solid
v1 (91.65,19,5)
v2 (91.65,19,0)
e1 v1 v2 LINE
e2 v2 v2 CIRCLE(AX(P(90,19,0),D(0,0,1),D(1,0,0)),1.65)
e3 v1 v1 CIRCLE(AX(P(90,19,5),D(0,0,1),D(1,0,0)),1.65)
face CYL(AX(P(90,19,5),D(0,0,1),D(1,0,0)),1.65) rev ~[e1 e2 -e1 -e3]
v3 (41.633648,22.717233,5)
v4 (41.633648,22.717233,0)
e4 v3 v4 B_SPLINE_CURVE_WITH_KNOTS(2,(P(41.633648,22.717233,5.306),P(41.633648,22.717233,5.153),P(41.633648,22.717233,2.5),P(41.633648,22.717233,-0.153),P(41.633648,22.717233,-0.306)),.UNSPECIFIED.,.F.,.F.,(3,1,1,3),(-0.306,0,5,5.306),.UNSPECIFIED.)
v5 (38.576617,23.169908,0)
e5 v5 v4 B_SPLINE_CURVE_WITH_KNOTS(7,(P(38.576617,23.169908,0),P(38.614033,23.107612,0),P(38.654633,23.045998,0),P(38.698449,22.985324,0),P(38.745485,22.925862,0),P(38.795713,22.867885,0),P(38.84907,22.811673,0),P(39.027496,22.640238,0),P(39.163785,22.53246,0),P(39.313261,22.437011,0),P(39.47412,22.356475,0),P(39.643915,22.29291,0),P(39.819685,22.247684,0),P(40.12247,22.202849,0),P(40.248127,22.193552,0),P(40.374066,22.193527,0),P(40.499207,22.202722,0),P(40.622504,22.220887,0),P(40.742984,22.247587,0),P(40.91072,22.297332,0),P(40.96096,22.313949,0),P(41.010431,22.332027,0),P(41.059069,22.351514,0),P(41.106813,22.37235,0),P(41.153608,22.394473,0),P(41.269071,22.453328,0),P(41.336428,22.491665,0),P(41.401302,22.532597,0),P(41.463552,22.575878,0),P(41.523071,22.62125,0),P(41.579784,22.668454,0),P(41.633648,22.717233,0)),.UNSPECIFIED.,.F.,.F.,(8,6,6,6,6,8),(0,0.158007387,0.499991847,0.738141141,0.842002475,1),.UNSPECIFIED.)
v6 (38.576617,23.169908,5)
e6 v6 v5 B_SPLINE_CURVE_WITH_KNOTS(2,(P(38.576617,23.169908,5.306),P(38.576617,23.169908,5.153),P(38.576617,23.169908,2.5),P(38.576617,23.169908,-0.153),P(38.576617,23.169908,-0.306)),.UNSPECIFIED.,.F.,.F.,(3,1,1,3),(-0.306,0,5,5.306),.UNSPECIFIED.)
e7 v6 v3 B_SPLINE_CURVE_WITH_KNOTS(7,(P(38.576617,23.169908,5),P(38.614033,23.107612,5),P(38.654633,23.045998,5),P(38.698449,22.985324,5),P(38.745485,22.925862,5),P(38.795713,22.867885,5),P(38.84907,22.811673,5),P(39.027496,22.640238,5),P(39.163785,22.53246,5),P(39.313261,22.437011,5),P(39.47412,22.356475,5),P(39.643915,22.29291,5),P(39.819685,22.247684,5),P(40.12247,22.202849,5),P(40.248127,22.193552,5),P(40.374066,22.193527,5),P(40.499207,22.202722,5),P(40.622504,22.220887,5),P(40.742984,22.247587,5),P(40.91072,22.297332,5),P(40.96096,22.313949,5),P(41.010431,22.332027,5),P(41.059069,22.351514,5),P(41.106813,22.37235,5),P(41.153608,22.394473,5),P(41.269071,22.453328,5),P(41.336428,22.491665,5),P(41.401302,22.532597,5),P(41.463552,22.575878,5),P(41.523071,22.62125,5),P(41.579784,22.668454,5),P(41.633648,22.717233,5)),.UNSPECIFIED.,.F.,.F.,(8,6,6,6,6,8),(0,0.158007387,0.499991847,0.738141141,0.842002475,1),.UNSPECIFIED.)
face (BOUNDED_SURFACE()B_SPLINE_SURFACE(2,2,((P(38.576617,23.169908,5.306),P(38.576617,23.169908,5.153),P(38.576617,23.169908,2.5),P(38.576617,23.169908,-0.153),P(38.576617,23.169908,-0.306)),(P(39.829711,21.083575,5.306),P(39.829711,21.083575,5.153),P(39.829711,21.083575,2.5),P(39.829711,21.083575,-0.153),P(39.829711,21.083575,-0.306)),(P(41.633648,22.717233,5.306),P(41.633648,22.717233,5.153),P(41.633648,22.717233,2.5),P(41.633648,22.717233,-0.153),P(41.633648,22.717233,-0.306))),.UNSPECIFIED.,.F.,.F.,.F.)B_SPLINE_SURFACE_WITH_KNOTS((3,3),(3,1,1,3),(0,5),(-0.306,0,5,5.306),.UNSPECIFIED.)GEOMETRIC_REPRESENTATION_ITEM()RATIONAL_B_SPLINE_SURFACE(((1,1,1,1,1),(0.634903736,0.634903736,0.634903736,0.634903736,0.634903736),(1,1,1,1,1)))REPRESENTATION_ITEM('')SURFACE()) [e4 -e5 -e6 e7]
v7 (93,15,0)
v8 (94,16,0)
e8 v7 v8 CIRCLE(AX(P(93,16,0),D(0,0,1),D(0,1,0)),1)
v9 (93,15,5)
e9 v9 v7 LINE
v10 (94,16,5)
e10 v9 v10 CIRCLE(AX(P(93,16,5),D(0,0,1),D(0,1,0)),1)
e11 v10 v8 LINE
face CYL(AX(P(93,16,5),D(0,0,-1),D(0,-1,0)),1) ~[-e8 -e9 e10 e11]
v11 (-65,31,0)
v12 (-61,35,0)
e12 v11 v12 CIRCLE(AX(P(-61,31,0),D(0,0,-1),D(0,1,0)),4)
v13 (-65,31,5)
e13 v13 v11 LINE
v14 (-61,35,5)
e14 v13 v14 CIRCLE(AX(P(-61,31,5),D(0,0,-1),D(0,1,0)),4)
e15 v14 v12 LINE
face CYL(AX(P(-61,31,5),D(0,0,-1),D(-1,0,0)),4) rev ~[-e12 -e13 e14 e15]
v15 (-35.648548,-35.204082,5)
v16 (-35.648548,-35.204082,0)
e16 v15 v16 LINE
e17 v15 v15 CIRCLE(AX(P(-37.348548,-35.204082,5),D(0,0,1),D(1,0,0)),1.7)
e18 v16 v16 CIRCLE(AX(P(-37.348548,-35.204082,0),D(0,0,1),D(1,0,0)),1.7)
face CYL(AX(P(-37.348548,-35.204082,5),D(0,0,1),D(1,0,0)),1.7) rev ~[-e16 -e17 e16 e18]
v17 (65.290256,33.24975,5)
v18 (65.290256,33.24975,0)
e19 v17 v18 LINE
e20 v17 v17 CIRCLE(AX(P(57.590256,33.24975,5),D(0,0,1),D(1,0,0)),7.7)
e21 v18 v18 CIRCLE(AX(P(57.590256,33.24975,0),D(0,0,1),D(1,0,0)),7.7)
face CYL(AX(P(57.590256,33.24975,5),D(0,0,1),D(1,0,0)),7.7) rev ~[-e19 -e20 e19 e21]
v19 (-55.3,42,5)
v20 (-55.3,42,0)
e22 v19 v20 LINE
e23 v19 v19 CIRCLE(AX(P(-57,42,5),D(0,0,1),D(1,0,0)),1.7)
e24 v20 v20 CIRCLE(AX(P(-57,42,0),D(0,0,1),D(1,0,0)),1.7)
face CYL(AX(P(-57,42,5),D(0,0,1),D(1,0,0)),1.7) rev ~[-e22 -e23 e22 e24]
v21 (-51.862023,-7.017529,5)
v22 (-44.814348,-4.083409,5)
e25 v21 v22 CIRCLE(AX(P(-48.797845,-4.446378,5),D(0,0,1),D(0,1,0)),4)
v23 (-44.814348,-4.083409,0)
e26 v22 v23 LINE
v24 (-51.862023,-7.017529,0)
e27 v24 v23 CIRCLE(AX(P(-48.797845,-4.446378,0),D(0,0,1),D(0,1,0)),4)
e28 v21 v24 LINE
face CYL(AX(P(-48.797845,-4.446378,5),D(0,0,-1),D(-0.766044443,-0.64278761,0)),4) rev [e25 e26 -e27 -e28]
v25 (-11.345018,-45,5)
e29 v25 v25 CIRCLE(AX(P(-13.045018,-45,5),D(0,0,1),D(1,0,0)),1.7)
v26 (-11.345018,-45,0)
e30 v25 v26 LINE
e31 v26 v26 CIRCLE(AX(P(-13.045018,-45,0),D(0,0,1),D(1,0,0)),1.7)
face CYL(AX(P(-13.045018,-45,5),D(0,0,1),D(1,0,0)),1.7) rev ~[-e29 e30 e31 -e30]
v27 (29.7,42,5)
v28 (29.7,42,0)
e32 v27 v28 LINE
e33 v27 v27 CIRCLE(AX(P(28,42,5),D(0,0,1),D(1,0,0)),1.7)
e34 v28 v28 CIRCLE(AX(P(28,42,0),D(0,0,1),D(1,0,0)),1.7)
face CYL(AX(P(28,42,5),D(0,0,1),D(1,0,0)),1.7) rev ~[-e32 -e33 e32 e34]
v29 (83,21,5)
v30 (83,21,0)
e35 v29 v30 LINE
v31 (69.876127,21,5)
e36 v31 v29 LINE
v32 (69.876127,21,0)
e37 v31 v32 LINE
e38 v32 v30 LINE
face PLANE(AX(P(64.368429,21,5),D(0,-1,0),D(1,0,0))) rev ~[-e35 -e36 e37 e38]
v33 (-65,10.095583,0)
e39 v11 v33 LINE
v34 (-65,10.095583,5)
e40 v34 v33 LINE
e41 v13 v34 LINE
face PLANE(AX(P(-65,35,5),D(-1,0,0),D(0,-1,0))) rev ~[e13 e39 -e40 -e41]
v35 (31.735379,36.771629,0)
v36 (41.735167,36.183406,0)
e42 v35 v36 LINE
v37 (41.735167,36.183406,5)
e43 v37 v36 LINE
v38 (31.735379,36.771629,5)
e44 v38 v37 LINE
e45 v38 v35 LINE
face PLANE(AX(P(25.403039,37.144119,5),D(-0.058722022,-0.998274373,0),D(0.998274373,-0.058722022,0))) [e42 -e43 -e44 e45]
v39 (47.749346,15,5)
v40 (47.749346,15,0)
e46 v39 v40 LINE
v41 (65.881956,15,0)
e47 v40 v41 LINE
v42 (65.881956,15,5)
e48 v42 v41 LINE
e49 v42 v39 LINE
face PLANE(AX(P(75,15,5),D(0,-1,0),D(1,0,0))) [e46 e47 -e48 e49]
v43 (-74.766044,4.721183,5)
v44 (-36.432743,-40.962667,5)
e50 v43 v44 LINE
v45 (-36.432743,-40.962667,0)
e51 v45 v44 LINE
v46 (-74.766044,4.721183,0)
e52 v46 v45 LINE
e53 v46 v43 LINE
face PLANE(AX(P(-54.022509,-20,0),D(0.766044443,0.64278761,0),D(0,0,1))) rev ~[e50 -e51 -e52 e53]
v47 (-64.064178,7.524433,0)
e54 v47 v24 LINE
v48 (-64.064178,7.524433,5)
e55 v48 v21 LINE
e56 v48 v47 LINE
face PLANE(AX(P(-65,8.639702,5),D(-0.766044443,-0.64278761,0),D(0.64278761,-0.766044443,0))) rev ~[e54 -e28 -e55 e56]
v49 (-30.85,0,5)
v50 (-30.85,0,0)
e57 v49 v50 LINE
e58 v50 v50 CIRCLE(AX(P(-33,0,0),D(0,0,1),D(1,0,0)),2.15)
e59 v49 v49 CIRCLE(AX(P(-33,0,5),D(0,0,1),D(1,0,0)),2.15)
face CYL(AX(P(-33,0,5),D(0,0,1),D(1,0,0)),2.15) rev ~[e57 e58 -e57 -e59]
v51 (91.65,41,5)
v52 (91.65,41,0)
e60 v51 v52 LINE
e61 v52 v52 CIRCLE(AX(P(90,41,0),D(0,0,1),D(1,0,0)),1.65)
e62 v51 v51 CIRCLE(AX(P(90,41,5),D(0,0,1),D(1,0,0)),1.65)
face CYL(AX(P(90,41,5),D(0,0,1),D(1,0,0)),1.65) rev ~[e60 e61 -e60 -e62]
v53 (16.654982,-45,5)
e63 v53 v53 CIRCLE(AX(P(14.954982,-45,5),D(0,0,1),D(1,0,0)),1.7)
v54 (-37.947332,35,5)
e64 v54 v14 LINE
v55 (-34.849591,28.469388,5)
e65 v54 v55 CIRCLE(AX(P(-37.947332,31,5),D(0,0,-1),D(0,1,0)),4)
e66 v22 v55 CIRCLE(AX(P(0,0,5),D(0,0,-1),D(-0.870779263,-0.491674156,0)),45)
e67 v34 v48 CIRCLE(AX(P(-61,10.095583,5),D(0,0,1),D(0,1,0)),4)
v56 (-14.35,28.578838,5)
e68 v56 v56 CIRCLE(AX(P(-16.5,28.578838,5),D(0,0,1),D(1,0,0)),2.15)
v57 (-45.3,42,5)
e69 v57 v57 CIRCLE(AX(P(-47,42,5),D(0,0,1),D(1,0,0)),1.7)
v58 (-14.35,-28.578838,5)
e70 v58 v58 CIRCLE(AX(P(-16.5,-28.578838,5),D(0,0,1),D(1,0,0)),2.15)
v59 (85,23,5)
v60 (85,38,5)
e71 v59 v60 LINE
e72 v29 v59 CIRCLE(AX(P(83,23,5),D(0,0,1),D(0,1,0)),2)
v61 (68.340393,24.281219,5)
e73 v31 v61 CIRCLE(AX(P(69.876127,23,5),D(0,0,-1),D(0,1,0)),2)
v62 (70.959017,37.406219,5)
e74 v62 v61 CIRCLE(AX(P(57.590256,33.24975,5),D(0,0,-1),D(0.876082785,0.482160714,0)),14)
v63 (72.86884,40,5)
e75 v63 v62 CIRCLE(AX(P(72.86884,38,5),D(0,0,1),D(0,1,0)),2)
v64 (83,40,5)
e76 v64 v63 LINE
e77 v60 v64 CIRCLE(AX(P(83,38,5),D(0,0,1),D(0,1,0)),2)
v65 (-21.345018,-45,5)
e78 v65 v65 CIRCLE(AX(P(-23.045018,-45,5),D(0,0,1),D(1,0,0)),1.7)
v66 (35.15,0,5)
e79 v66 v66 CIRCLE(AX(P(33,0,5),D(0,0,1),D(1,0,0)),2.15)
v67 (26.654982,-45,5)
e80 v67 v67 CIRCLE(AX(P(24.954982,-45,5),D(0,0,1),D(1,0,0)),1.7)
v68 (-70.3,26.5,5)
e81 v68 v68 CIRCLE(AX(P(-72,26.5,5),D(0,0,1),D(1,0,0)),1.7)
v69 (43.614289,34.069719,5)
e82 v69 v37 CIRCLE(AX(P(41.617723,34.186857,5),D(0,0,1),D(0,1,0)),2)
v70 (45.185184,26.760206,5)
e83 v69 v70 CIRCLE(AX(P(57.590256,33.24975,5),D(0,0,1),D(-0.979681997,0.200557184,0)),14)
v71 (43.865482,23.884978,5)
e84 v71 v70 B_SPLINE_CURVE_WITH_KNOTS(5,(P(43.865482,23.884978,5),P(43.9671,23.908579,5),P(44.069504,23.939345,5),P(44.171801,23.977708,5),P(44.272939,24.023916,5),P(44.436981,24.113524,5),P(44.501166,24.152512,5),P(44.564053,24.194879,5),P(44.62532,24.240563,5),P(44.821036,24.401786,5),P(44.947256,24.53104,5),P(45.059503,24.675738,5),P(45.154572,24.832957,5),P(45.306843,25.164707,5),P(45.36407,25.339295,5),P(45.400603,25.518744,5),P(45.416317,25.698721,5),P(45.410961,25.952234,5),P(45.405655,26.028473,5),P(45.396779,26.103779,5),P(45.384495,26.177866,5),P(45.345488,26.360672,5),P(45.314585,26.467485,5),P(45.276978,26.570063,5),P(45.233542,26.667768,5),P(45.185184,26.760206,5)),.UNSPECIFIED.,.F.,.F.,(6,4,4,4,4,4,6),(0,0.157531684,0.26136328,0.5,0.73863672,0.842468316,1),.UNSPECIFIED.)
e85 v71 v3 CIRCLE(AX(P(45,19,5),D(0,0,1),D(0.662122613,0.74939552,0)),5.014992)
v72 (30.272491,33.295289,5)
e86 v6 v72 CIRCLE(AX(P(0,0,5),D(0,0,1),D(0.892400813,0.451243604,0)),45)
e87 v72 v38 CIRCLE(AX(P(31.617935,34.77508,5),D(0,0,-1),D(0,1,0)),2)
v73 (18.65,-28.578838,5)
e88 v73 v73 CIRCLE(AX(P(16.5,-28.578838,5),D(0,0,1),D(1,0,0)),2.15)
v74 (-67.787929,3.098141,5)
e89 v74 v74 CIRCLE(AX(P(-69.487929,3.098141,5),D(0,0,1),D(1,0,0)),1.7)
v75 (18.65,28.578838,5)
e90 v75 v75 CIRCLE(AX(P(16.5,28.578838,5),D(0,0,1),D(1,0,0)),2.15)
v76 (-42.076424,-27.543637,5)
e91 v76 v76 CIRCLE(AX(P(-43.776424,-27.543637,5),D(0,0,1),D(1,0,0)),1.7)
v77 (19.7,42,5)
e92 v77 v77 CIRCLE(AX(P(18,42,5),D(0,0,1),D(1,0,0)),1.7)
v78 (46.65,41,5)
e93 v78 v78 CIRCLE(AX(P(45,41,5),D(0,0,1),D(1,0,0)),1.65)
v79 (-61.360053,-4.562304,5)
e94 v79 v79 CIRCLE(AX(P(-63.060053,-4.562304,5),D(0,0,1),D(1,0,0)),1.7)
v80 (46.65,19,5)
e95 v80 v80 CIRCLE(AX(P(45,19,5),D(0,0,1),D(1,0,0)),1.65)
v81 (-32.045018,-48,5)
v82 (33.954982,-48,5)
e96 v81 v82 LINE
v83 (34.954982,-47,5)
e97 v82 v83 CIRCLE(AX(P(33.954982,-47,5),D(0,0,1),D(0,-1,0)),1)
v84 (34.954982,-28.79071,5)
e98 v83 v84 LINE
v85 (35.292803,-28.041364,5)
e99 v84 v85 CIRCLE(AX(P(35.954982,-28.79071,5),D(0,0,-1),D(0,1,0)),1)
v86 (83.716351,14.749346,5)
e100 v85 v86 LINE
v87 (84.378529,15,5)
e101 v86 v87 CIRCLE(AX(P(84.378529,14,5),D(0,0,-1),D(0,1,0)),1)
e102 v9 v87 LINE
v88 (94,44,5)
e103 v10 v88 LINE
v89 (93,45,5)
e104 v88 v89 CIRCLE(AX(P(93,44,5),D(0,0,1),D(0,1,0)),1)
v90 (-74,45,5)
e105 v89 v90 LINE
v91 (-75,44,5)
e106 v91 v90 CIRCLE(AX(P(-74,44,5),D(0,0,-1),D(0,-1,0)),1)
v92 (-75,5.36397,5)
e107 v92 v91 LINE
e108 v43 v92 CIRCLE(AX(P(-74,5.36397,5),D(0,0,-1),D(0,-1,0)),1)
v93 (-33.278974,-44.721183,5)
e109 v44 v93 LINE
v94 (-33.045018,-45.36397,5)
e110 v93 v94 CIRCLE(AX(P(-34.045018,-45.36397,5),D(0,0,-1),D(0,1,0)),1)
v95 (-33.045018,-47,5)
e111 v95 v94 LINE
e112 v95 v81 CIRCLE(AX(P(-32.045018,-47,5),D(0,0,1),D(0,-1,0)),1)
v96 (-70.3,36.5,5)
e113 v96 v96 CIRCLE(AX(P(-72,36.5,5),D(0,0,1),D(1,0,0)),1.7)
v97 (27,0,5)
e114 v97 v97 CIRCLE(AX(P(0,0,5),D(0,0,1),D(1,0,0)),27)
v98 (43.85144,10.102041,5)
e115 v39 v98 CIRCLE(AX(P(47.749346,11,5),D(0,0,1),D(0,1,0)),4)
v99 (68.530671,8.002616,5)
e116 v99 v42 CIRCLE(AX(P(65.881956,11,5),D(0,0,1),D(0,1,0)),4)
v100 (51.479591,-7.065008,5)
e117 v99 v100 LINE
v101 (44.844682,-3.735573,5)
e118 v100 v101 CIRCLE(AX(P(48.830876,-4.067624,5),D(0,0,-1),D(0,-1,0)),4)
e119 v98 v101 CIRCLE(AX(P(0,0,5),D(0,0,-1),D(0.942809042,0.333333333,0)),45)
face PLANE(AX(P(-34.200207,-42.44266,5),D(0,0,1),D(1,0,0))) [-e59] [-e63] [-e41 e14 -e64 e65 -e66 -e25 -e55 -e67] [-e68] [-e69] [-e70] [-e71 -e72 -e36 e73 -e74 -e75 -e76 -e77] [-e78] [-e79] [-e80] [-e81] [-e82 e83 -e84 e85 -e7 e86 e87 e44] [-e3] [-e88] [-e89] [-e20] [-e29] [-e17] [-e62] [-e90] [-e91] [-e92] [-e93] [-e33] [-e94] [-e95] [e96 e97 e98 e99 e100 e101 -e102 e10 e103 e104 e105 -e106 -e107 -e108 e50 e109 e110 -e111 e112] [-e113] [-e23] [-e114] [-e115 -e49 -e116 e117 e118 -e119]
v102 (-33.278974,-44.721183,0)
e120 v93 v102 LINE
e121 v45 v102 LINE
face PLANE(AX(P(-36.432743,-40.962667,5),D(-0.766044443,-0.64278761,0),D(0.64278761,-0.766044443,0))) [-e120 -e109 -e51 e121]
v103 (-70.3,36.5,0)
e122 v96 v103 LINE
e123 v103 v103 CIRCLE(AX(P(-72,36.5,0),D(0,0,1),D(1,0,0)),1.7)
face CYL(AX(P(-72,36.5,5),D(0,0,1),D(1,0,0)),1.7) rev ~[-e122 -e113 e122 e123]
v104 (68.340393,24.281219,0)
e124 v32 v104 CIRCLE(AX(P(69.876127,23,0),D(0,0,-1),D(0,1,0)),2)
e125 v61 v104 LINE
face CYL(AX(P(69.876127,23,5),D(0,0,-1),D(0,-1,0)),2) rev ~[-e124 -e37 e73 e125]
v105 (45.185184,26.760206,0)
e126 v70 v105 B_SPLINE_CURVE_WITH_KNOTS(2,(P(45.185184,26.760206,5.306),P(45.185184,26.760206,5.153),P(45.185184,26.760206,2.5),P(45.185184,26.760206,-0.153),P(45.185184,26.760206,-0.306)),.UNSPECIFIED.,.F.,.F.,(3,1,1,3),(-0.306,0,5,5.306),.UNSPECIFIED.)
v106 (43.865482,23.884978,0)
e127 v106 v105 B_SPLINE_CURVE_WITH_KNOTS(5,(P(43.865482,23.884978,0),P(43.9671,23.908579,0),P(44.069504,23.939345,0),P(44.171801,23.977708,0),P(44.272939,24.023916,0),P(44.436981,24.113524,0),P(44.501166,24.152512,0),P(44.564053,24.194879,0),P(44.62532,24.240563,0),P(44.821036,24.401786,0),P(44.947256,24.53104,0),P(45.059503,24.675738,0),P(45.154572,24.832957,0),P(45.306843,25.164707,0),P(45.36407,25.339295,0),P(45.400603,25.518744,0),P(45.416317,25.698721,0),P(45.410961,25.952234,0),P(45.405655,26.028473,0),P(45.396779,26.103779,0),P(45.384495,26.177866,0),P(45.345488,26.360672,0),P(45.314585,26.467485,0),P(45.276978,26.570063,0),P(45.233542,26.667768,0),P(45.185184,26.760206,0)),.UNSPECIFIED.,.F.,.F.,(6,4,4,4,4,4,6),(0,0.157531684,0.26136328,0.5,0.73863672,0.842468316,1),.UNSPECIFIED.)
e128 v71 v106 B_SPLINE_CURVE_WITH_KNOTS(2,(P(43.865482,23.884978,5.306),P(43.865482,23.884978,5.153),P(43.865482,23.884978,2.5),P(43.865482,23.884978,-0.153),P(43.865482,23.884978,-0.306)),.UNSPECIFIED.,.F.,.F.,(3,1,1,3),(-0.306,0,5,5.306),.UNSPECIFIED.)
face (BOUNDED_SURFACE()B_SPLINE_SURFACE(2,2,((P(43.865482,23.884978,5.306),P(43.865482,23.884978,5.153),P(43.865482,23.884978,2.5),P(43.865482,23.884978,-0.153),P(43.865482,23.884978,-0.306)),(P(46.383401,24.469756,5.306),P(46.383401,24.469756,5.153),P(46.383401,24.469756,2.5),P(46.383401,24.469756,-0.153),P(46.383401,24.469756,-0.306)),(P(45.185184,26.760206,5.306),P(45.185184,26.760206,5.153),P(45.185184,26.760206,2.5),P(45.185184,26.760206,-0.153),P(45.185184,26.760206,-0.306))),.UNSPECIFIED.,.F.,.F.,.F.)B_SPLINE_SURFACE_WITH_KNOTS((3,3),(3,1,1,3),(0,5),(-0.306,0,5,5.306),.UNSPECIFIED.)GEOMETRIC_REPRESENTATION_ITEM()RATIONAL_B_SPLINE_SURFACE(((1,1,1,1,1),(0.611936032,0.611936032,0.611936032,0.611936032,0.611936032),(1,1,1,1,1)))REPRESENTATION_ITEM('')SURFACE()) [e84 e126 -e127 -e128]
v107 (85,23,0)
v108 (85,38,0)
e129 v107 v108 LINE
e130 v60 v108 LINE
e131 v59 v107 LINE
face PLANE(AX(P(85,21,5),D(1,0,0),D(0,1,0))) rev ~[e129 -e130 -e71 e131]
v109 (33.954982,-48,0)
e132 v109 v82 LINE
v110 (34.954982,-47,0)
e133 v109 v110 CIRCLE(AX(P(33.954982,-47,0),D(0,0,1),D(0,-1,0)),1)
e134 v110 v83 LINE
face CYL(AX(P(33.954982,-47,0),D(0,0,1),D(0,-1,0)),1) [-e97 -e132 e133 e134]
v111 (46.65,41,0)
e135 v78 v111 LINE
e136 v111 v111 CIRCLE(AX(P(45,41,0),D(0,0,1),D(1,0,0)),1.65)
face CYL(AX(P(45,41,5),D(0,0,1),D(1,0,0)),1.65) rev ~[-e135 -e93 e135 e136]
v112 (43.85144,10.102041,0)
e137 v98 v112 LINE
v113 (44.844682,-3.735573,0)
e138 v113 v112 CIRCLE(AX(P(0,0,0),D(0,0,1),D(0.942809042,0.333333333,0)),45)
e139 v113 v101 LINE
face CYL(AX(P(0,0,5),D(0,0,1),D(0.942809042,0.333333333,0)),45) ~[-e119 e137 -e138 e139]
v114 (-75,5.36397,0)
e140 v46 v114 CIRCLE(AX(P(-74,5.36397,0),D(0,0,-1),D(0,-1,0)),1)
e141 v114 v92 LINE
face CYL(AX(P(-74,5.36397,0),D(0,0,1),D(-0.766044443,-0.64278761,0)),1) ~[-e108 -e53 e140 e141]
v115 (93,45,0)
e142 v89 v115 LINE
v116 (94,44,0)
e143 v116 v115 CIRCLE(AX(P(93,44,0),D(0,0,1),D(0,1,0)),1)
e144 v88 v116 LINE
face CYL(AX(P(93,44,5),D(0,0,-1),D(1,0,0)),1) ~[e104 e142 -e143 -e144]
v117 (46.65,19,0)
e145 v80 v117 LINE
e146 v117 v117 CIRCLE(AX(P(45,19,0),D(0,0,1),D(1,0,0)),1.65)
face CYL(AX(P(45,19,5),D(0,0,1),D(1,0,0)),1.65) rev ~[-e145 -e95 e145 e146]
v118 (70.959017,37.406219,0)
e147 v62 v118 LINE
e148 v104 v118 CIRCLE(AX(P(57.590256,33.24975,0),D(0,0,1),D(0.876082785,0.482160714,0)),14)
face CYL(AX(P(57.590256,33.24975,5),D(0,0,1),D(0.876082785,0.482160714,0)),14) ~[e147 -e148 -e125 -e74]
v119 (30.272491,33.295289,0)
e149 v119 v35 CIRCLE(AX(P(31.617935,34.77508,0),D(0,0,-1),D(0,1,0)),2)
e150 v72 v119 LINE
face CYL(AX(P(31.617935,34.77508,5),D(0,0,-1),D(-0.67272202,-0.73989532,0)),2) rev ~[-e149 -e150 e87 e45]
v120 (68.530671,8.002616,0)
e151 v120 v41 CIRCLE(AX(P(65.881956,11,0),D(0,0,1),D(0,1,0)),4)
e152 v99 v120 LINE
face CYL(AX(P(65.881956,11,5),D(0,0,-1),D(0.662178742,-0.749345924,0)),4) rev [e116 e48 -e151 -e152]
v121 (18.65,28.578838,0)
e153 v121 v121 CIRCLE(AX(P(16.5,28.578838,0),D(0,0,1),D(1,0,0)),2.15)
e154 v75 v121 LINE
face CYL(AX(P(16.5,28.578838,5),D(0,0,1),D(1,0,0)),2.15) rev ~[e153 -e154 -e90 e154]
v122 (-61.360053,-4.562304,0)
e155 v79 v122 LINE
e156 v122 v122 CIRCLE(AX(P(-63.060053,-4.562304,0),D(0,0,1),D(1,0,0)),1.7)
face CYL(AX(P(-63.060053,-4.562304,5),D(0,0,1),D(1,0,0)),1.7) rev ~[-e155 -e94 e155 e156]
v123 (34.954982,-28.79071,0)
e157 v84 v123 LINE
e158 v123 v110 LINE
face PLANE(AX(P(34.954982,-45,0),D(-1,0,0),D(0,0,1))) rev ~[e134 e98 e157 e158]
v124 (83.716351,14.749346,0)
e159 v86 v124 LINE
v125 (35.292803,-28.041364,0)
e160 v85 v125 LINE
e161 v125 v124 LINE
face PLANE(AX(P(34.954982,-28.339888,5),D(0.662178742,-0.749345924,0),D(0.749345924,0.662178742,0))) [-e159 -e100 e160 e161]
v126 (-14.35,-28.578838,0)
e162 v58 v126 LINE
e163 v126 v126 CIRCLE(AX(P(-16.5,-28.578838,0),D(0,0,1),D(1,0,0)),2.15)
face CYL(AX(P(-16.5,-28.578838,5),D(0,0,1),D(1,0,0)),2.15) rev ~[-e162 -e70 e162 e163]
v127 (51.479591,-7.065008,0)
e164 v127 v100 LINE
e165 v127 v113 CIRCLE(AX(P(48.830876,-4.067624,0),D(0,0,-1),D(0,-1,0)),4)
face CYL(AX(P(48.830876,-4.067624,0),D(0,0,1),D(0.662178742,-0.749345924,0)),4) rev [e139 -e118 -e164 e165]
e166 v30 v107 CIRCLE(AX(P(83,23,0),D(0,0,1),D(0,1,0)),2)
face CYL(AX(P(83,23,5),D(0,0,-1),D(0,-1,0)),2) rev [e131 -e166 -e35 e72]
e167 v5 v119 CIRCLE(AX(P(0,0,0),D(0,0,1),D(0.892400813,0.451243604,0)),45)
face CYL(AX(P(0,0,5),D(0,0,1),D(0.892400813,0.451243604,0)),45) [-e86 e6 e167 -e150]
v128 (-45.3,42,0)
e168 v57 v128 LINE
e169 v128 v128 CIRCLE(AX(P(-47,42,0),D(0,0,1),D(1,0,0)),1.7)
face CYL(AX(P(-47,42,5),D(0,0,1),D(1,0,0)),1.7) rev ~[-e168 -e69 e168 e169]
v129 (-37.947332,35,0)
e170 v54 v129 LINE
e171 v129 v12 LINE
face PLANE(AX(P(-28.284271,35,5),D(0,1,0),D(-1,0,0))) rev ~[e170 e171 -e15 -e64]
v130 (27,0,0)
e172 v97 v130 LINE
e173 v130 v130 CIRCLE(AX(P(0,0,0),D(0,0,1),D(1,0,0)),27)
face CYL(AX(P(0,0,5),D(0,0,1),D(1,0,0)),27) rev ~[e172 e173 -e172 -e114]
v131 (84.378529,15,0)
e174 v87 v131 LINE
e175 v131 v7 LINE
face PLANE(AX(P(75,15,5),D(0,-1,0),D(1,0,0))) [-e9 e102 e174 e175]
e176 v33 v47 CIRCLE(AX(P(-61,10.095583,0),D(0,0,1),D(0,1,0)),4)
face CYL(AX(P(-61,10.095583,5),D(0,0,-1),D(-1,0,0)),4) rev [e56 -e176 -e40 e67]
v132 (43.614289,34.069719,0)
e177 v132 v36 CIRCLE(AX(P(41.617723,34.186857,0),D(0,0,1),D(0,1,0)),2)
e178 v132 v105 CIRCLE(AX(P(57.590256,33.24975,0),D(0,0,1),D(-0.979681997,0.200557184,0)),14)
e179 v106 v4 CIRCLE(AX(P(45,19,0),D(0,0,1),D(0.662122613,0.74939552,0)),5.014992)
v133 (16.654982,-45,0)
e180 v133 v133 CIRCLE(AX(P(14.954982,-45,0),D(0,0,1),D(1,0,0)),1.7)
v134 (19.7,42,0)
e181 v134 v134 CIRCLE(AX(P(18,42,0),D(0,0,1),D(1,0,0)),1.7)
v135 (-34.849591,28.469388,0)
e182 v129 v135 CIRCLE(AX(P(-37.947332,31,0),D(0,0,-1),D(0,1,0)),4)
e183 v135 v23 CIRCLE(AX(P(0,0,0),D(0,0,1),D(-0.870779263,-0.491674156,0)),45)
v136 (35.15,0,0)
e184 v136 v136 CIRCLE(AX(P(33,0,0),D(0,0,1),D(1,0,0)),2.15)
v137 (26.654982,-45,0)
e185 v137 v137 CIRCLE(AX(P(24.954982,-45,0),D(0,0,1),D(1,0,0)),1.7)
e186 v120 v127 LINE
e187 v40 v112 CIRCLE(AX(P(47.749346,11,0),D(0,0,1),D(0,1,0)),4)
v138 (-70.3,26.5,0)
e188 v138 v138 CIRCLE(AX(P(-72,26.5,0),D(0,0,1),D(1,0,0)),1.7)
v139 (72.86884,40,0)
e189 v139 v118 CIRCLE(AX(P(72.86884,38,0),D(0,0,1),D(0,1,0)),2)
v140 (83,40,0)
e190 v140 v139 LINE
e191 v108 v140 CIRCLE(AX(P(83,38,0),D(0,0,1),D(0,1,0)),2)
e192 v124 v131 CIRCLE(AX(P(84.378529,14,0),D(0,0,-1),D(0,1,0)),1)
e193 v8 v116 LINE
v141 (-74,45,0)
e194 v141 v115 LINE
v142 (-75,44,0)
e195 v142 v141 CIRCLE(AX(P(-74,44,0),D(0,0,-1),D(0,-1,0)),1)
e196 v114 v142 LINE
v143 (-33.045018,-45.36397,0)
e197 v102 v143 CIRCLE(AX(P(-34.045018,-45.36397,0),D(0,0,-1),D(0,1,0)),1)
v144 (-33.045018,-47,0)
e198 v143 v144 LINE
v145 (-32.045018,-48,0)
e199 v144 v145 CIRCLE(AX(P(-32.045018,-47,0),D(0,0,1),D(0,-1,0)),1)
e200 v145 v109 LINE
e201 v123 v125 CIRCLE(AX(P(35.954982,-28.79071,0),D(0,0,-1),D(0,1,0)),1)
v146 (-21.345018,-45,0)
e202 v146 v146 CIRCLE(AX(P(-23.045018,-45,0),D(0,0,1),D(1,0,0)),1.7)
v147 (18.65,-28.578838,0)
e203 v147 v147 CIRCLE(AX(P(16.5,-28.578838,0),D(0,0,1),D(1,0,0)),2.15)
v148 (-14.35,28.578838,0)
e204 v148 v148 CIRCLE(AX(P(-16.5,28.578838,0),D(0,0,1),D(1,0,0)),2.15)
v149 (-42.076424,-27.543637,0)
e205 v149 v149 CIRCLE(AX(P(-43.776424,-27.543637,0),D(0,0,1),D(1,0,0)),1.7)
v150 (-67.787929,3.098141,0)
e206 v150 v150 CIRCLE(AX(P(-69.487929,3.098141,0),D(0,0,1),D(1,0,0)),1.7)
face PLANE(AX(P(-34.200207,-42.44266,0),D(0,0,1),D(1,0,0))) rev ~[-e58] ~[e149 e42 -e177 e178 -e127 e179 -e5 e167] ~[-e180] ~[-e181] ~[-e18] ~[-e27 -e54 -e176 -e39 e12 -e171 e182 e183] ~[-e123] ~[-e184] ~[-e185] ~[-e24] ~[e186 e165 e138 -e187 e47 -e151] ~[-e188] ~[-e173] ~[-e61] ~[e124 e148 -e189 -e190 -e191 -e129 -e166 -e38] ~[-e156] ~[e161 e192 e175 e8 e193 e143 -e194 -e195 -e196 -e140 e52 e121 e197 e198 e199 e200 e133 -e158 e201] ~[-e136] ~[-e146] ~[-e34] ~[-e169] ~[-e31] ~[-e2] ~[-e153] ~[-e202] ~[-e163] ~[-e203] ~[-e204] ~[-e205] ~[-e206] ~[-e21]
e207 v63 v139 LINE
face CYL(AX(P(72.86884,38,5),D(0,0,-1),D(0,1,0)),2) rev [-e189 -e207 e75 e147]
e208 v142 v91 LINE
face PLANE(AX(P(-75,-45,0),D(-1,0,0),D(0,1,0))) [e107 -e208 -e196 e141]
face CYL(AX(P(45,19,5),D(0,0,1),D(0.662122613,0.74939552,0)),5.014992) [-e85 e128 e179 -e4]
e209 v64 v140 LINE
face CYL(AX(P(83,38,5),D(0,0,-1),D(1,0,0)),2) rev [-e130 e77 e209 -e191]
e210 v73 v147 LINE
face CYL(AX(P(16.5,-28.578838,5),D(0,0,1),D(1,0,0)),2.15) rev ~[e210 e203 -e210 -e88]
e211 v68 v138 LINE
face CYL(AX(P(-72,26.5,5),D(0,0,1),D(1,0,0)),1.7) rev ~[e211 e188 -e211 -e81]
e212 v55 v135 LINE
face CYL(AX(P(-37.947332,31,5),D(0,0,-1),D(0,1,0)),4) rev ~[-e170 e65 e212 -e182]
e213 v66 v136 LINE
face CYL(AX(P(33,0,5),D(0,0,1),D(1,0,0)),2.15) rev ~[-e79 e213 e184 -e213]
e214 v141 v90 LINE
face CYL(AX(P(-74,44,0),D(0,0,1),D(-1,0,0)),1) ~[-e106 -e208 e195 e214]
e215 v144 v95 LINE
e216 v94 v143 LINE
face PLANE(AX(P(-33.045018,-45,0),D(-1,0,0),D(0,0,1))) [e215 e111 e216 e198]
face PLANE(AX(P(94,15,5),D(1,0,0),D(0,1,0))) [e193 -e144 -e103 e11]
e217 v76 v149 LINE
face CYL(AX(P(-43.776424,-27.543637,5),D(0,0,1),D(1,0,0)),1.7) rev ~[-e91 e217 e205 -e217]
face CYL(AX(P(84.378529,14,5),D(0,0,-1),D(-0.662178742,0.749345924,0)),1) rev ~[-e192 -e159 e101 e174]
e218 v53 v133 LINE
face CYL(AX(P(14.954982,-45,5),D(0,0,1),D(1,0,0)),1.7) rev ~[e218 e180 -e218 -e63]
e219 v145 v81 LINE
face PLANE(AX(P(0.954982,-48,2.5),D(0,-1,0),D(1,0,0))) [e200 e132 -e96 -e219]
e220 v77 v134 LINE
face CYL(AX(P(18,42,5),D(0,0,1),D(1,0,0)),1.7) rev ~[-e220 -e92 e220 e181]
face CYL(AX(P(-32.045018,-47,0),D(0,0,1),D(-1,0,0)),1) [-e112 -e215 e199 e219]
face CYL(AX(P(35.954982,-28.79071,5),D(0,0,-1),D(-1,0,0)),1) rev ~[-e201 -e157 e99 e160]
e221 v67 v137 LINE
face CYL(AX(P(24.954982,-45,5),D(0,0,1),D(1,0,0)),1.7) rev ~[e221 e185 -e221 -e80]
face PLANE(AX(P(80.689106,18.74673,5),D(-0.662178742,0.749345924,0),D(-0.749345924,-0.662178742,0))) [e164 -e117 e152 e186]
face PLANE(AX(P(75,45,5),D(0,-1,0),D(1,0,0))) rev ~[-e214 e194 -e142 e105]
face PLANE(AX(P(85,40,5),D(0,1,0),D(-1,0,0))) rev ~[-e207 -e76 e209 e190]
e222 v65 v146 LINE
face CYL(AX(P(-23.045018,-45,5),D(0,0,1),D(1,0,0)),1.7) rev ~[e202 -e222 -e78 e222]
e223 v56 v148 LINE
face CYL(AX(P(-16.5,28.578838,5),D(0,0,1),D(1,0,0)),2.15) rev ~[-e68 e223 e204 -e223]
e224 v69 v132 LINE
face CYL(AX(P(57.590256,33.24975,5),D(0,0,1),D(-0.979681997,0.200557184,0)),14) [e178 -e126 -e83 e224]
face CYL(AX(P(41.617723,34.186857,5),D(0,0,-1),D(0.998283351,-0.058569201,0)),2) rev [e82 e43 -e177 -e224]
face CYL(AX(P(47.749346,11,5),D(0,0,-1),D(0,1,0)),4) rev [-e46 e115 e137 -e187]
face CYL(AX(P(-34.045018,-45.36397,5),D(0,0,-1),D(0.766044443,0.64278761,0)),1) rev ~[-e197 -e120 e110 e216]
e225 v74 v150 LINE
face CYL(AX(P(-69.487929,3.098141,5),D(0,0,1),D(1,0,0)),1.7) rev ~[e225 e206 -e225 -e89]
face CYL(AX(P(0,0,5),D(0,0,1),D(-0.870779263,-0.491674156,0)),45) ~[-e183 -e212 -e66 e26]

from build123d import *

# Parameters (mm, degrees)
SKETCH_1_W           = 150
SKETCH_1_H           = 90
EXTRUDE_1_DEPTH      = 5
SKETCH_3_R           = 27
CUT_EXTRUDE_1_DEPTH  = 5
SKETCH_4_R           = 2.15
CUT_EXTRUDE_2_DEPTH  = 88.60707734
SKETCH_5_R           = 7.7
CUT_EXTRUDE_3_DEPTH  = 88.60707734
CHAMFER_1_SIZE       = 40
CHAMFER_3_SIZE       = 50
CHAMFER_3_SIZE2      = 41.954981559
CUT_EXTRUDE_4_DEPTH  = 88.60707734
SKETCH_7_W           = 19
SKETCH_7_H           = 30
EXTRUDE_2_DEPTH      = 5
CHAMFER_2_SIZE       = 10
SKETCH_8_R           = 1.65
CUT_EXTRUDE_5_DEPTH  = 105.335995706
SKETCH_10_R          = 1.7
CUT_EXTRUDE_6_DEPTH  = 105.335995706
SKETCH_11_R          = 1.7
CUT_EXTRUDE_7_DEPTH  = 105.335995706
CUT_EXTRUDE_9_DEPTH  = 105.335995706
EXTRUDE_1_2_DEPTH    = 5
CUT_EXTRUDE_10_DEPTH = 105.335995706
FILLET_1_R           = 2
FILLET_2_R           = 4
SKETCH_16_W          = 68
SKETCH_16_H          = 5
EXTRUDE_3_DEPTH      = 3
EXTRUDE_4_DEPTH      = 5
FILLET_3_R           = 1
SKETCH_18_R          = 1.7
CUT_EXTRUDE_11_DEPTH = 106.664563735


with BuildPart() as part:
    # 草图1 → Extrude 1 (new body)
    with BuildSketch(Plane.XY):
        Rectangle(SKETCH_1_W, SKETCH_1_H)
    extrude(amount=EXTRUDE_1_DEPTH)

    # 草图3 → 切除-拉伸1 (cut)
    with BuildSketch(Plane.XY.offset(5)):
        Circle(SKETCH_3_R)
    extrude(amount=-CUT_EXTRUDE_1_DEPTH, mode=Mode.SUBTRACT)

    # 草图4 → 切除-拉伸2 (cut, through all)
    with BuildSketch(Plane.XY.offset(5)):
        with Locations((16.5, 28.578838325)):
            Circle(SKETCH_4_R)
        with Locations((33, 0)):
            Circle(SKETCH_4_R)
        with Locations((16.5, -28.578838325)):
            Circle(SKETCH_4_R)
        with Locations((-16.5, -28.578838325)):
            Circle(SKETCH_4_R)
        with Locations((-33, 0)):
            Circle(SKETCH_4_R)
        with Locations((-16.5, 28.578838325)):
            Circle(SKETCH_4_R)
    extrude(amount=-CUT_EXTRUDE_2_DEPTH, mode=Mode.SUBTRACT)

    # 草图5 → 切除-拉伸3 (cut, through all)
    with BuildSketch(Plane.XY.offset(5)):
        with Locations((57.590256339, 33.24975)):
            Circle(SKETCH_5_R)
    extrude(amount=-CUT_EXTRUDE_3_DEPTH, mode=Mode.SUBTRACT)

    # 倒角1
    chamfer_1_edges = [part.edges().sort_by_distance(p)[0] for p in [
        (75, -45, 2.5),
    ]]
    chamfer(chamfer_1_edges, length=CHAMFER_1_SIZE)

    # 倒角3
    chamfer_3_edges = [part.edges().sort_by_distance(p)[0] for p in [
        (-75, -45, 2.5),
    ]]
    chamfer_3_side = [part.faces().sort_by_distance(p)[0] for p in [
        (-75, 0, 2.5),
    ]]
    chamfer(chamfer_3_edges, length=CHAMFER_3_SIZE, length2=CHAMFER_3_SIZE2, reference=chamfer_3_side[0])

    # 草图6 → 切除-拉伸4 (cut, through all)
    with BuildSketch(Plane(origin=(0, 0, 0), x_dir=(-1, 0, 0), z_dir=(0, 0, -1))):
        Polygon((-39.037333413, -40.962666587), (-35, -40.962666587), (-35, -45), align=None)
        Polygon((36.432743419, -40.962666587), (33.045018441, -40.962666587), (33.045018441, -45), align=None)
    extrude(amount=-CUT_EXTRUDE_4_DEPTH, mode=Mode.SUBTRACT)

    # 草图7 → 凸台-拉伸2 (add, through all)
    with BuildSketch(Plane.XY.offset(5)):
        with Locations((84.5, 30)):
            Rectangle(SKETCH_7_W, SKETCH_7_H)
    extrude(amount=-EXTRUDE_2_DEPTH)

    # 倒角2
    chamfer_2_edges = [part.edges().sort_by_distance(p)[0] for p in [
        (75, 15, 2.5),
    ]]
    chamfer(chamfer_2_edges, length=CHAMFER_2_SIZE)

    # 草图8 → 切除-拉伸5 (cut, through all)
    with BuildSketch(Plane.XY.offset(5)):
        with Locations((90, 19)):
            Circle(SKETCH_8_R)
        with Locations((90, 41)):
            Circle(SKETCH_8_R)
        with Locations((45, 41)):
            Circle(SKETCH_8_R)
        with Locations((45, 19)):
            Circle(SKETCH_8_R)
    extrude(amount=-CUT_EXTRUDE_5_DEPTH, mode=Mode.SUBTRACT)

    # 草图10 → 切除-拉伸6 (cut, through all)
    with BuildSketch(Plane.XY.offset(5)):
        with Locations((-37.348548138, -35.204081542)):
            Circle(SKETCH_10_R)
        with Locations((-43.776424235, -27.543637111)):
            Circle(SKETCH_10_R)
        with Locations((-72, 36.5)):
            Circle(SKETCH_10_R)
        with Locations((-72, 26.5)):
            Circle(SKETCH_10_R)
        with Locations((-69.487928622, 3.098140613)):
            Circle(SKETCH_10_R)
        with Locations((-63.060052525, -4.562303818)):
            Circle(SKETCH_10_R)
    extrude(amount=-CUT_EXTRUDE_6_DEPTH, mode=Mode.SUBTRACT)

    # 草图11 → 切除-拉伸7 (cut, through all)
    with BuildSketch(Plane.XY.offset(5)):
        with Locations((-47, 42)):
            Circle(SKETCH_11_R)
        with Locations((-57, 42)):
            Circle(SKETCH_11_R)
        with Locations((18, 42)):
            Circle(SKETCH_11_R)
        with Locations((28, 42)):
            Circle(SKETCH_11_R)
    extrude(amount=-CUT_EXTRUDE_7_DEPTH, mode=Mode.SUBTRACT)

    # 草图13 → 切除-拉伸9 (cut, through all)
    with BuildSketch(Plane.XY.offset(5)):
        with BuildLine():
            Line((-65, 35), (-65, 8.639702343))
            Line((-65, 8.639702343), (-39.185066827, -22.125337008))
            ThreePointArc((-39.185066827, -22.125337008), (-44.202419924, 8.434813149), (-28.284271247, 35))
            Line((-28.284271247, 35), (-65, 35))
        make_face()
        with BuildLine():
            Line((34.954981559, -28.339888218), (34.954981559, -45))
            Line((34.954981559, -45), (35, -45))
            Line((35, -45), (85, -3.384776311))
            Line((85, -3.384776311), (85, 15))
            Line((85, 15), (42.426406871, 15))
            ThreePointArc((42.426406871, 15), (44.345871246, -7.644848165), (34.954981559, -28.339888218))
        make_face()
    extrude(amount=-CUT_EXTRUDE_9_DEPTH, mode=Mode.SUBTRACT)

    # 草图14 → Extrude 1 2 (add, through all)
    with BuildSketch(Plane.XY.offset(5)):
        Polygon((34.954981559, -28.339888218), (84, 15), (80.689106292, 18.746729621), (31.644087851, -24.593158597), align=None)
    extrude(amount=-EXTRUDE_1_2_DEPTH)

    # 草图15 → 切除-拉伸10 (cut, through all)
    with BuildSketch(Plane.XY.offset(5)):
        with BuildLine():
            Line((64.368429023, 21), (85, 21))
            Line((85, 21), (85, 40))
            Line((85, 40), (69.855415324, 40))
            ThreePointArc((69.855415324, 40), (71.040613965, 29.365437998), (64.368429023, 21))
        make_face()
        with BuildLine():
            Line((25.403039136, 37.144119355), (43.874708376, 36.057550576))
            ThreePointArc((43.874708376, 36.057550576), (44.31250452, 28.811134605), (48.320539762, 22.758212716))
            ThreePointArc((48.320539762, 22.758212716), (43.557063519, 23.802924259), (40.158036561, 20.305962168))
            ThreePointArc((40.158036561, 20.305962168), (33.844416763, 29.657300181), (25.403039136, 37.144119355))
        make_face()
    extrude(amount=-CUT_EXTRUDE_10_DEPTH, mode=Mode.SUBTRACT)

    # 圆角1
    fillet_1_edges = [part.edges().sort_by_distance(p)[0] for p in [
        (64.368429023, 21, 2.5),
        (69.855415324, 40, 2.5),
        (85, 40, 2.5),
        (85, 21, 2.5),
        (40.158036561, 20.305962168, 2.5),
        (25.403039136, 37.144119355, 2.5),
        (43.874708376, 36.057550576, 2.5),
        (48.320539762, 22.758212716, 2.5),
    ]]
    fillet(fillet_1_edges, radius=FILLET_1_R)

    # 圆角2
    fillet_2_edges = [part.edges().sort_by_distance(p)[0] for p in [
        (-65, 35, 2.5),
        (-28.284271247, 35, 2.5),
        (-39.185066827, -22.125337008, 2.5),
        (-65, 8.639702343, 2.5),
        (42.426406871, 15, 2.5),
        (42.392765926, -15.094813585, 2.5),
        (76.449168652, 15, 2.5),
    ]]
    fillet(fillet_2_edges, radius=FILLET_2_R)

    # 草图16 → 凸台-拉伸3 (add)
    with BuildSketch(Plane.XZ.offset(45)):
        with Locations((0.954981559, 2.5)):
            Rectangle(SKETCH_16_W, SKETCH_16_H)
    extrude(amount=EXTRUDE_3_DEPTH)

    # 草图17 → 凸台-拉伸4 (add, through all)
    with BuildSketch(Plane.XY.offset(5)):
        Polygon((-36.432743419, -40.962666587), (-33.045018441, -45), (-33.045018441, -40.962666587), align=None)
    extrude(amount=-EXTRUDE_4_DEPTH)

    # 圆角3
    fillet_3_edges = [part.edges().sort_by_distance(p)[0] for p in [
        (34.954981559, -28.339888218, 2.5),
        (84, 15, 2.5),
        (34.954981559, -48, 2.5),
        (-33.045018441, -48, 2.5),
        (-33.045018441, -45, 2.5),
        (-75, 5, 2.5),
        (-75, 45, 2.5),
        (94, 45, 2.5),
        (94, 15, 2.5),
    ]]
    fillet(fillet_3_edges, radius=FILLET_3_R)

    # 草图18 → 切除-拉伸11 (cut, through all)
    with BuildSketch(Plane.XY.offset(5)):
        with Locations((24.954981559, -45)):
            Circle(SKETCH_18_R)
        with Locations((14.954981559, -45)):
            Circle(SKETCH_18_R)
        with Locations((-13.045018441, -45)):
            Circle(SKETCH_18_R)
        with Locations((-23.045018441, -45)):
            Circle(SKETCH_18_R)
    extrude(amount=-CUT_EXTRUDE_11_DEPTH, mode=Mode.SUBTRACT)


solid = part.part
